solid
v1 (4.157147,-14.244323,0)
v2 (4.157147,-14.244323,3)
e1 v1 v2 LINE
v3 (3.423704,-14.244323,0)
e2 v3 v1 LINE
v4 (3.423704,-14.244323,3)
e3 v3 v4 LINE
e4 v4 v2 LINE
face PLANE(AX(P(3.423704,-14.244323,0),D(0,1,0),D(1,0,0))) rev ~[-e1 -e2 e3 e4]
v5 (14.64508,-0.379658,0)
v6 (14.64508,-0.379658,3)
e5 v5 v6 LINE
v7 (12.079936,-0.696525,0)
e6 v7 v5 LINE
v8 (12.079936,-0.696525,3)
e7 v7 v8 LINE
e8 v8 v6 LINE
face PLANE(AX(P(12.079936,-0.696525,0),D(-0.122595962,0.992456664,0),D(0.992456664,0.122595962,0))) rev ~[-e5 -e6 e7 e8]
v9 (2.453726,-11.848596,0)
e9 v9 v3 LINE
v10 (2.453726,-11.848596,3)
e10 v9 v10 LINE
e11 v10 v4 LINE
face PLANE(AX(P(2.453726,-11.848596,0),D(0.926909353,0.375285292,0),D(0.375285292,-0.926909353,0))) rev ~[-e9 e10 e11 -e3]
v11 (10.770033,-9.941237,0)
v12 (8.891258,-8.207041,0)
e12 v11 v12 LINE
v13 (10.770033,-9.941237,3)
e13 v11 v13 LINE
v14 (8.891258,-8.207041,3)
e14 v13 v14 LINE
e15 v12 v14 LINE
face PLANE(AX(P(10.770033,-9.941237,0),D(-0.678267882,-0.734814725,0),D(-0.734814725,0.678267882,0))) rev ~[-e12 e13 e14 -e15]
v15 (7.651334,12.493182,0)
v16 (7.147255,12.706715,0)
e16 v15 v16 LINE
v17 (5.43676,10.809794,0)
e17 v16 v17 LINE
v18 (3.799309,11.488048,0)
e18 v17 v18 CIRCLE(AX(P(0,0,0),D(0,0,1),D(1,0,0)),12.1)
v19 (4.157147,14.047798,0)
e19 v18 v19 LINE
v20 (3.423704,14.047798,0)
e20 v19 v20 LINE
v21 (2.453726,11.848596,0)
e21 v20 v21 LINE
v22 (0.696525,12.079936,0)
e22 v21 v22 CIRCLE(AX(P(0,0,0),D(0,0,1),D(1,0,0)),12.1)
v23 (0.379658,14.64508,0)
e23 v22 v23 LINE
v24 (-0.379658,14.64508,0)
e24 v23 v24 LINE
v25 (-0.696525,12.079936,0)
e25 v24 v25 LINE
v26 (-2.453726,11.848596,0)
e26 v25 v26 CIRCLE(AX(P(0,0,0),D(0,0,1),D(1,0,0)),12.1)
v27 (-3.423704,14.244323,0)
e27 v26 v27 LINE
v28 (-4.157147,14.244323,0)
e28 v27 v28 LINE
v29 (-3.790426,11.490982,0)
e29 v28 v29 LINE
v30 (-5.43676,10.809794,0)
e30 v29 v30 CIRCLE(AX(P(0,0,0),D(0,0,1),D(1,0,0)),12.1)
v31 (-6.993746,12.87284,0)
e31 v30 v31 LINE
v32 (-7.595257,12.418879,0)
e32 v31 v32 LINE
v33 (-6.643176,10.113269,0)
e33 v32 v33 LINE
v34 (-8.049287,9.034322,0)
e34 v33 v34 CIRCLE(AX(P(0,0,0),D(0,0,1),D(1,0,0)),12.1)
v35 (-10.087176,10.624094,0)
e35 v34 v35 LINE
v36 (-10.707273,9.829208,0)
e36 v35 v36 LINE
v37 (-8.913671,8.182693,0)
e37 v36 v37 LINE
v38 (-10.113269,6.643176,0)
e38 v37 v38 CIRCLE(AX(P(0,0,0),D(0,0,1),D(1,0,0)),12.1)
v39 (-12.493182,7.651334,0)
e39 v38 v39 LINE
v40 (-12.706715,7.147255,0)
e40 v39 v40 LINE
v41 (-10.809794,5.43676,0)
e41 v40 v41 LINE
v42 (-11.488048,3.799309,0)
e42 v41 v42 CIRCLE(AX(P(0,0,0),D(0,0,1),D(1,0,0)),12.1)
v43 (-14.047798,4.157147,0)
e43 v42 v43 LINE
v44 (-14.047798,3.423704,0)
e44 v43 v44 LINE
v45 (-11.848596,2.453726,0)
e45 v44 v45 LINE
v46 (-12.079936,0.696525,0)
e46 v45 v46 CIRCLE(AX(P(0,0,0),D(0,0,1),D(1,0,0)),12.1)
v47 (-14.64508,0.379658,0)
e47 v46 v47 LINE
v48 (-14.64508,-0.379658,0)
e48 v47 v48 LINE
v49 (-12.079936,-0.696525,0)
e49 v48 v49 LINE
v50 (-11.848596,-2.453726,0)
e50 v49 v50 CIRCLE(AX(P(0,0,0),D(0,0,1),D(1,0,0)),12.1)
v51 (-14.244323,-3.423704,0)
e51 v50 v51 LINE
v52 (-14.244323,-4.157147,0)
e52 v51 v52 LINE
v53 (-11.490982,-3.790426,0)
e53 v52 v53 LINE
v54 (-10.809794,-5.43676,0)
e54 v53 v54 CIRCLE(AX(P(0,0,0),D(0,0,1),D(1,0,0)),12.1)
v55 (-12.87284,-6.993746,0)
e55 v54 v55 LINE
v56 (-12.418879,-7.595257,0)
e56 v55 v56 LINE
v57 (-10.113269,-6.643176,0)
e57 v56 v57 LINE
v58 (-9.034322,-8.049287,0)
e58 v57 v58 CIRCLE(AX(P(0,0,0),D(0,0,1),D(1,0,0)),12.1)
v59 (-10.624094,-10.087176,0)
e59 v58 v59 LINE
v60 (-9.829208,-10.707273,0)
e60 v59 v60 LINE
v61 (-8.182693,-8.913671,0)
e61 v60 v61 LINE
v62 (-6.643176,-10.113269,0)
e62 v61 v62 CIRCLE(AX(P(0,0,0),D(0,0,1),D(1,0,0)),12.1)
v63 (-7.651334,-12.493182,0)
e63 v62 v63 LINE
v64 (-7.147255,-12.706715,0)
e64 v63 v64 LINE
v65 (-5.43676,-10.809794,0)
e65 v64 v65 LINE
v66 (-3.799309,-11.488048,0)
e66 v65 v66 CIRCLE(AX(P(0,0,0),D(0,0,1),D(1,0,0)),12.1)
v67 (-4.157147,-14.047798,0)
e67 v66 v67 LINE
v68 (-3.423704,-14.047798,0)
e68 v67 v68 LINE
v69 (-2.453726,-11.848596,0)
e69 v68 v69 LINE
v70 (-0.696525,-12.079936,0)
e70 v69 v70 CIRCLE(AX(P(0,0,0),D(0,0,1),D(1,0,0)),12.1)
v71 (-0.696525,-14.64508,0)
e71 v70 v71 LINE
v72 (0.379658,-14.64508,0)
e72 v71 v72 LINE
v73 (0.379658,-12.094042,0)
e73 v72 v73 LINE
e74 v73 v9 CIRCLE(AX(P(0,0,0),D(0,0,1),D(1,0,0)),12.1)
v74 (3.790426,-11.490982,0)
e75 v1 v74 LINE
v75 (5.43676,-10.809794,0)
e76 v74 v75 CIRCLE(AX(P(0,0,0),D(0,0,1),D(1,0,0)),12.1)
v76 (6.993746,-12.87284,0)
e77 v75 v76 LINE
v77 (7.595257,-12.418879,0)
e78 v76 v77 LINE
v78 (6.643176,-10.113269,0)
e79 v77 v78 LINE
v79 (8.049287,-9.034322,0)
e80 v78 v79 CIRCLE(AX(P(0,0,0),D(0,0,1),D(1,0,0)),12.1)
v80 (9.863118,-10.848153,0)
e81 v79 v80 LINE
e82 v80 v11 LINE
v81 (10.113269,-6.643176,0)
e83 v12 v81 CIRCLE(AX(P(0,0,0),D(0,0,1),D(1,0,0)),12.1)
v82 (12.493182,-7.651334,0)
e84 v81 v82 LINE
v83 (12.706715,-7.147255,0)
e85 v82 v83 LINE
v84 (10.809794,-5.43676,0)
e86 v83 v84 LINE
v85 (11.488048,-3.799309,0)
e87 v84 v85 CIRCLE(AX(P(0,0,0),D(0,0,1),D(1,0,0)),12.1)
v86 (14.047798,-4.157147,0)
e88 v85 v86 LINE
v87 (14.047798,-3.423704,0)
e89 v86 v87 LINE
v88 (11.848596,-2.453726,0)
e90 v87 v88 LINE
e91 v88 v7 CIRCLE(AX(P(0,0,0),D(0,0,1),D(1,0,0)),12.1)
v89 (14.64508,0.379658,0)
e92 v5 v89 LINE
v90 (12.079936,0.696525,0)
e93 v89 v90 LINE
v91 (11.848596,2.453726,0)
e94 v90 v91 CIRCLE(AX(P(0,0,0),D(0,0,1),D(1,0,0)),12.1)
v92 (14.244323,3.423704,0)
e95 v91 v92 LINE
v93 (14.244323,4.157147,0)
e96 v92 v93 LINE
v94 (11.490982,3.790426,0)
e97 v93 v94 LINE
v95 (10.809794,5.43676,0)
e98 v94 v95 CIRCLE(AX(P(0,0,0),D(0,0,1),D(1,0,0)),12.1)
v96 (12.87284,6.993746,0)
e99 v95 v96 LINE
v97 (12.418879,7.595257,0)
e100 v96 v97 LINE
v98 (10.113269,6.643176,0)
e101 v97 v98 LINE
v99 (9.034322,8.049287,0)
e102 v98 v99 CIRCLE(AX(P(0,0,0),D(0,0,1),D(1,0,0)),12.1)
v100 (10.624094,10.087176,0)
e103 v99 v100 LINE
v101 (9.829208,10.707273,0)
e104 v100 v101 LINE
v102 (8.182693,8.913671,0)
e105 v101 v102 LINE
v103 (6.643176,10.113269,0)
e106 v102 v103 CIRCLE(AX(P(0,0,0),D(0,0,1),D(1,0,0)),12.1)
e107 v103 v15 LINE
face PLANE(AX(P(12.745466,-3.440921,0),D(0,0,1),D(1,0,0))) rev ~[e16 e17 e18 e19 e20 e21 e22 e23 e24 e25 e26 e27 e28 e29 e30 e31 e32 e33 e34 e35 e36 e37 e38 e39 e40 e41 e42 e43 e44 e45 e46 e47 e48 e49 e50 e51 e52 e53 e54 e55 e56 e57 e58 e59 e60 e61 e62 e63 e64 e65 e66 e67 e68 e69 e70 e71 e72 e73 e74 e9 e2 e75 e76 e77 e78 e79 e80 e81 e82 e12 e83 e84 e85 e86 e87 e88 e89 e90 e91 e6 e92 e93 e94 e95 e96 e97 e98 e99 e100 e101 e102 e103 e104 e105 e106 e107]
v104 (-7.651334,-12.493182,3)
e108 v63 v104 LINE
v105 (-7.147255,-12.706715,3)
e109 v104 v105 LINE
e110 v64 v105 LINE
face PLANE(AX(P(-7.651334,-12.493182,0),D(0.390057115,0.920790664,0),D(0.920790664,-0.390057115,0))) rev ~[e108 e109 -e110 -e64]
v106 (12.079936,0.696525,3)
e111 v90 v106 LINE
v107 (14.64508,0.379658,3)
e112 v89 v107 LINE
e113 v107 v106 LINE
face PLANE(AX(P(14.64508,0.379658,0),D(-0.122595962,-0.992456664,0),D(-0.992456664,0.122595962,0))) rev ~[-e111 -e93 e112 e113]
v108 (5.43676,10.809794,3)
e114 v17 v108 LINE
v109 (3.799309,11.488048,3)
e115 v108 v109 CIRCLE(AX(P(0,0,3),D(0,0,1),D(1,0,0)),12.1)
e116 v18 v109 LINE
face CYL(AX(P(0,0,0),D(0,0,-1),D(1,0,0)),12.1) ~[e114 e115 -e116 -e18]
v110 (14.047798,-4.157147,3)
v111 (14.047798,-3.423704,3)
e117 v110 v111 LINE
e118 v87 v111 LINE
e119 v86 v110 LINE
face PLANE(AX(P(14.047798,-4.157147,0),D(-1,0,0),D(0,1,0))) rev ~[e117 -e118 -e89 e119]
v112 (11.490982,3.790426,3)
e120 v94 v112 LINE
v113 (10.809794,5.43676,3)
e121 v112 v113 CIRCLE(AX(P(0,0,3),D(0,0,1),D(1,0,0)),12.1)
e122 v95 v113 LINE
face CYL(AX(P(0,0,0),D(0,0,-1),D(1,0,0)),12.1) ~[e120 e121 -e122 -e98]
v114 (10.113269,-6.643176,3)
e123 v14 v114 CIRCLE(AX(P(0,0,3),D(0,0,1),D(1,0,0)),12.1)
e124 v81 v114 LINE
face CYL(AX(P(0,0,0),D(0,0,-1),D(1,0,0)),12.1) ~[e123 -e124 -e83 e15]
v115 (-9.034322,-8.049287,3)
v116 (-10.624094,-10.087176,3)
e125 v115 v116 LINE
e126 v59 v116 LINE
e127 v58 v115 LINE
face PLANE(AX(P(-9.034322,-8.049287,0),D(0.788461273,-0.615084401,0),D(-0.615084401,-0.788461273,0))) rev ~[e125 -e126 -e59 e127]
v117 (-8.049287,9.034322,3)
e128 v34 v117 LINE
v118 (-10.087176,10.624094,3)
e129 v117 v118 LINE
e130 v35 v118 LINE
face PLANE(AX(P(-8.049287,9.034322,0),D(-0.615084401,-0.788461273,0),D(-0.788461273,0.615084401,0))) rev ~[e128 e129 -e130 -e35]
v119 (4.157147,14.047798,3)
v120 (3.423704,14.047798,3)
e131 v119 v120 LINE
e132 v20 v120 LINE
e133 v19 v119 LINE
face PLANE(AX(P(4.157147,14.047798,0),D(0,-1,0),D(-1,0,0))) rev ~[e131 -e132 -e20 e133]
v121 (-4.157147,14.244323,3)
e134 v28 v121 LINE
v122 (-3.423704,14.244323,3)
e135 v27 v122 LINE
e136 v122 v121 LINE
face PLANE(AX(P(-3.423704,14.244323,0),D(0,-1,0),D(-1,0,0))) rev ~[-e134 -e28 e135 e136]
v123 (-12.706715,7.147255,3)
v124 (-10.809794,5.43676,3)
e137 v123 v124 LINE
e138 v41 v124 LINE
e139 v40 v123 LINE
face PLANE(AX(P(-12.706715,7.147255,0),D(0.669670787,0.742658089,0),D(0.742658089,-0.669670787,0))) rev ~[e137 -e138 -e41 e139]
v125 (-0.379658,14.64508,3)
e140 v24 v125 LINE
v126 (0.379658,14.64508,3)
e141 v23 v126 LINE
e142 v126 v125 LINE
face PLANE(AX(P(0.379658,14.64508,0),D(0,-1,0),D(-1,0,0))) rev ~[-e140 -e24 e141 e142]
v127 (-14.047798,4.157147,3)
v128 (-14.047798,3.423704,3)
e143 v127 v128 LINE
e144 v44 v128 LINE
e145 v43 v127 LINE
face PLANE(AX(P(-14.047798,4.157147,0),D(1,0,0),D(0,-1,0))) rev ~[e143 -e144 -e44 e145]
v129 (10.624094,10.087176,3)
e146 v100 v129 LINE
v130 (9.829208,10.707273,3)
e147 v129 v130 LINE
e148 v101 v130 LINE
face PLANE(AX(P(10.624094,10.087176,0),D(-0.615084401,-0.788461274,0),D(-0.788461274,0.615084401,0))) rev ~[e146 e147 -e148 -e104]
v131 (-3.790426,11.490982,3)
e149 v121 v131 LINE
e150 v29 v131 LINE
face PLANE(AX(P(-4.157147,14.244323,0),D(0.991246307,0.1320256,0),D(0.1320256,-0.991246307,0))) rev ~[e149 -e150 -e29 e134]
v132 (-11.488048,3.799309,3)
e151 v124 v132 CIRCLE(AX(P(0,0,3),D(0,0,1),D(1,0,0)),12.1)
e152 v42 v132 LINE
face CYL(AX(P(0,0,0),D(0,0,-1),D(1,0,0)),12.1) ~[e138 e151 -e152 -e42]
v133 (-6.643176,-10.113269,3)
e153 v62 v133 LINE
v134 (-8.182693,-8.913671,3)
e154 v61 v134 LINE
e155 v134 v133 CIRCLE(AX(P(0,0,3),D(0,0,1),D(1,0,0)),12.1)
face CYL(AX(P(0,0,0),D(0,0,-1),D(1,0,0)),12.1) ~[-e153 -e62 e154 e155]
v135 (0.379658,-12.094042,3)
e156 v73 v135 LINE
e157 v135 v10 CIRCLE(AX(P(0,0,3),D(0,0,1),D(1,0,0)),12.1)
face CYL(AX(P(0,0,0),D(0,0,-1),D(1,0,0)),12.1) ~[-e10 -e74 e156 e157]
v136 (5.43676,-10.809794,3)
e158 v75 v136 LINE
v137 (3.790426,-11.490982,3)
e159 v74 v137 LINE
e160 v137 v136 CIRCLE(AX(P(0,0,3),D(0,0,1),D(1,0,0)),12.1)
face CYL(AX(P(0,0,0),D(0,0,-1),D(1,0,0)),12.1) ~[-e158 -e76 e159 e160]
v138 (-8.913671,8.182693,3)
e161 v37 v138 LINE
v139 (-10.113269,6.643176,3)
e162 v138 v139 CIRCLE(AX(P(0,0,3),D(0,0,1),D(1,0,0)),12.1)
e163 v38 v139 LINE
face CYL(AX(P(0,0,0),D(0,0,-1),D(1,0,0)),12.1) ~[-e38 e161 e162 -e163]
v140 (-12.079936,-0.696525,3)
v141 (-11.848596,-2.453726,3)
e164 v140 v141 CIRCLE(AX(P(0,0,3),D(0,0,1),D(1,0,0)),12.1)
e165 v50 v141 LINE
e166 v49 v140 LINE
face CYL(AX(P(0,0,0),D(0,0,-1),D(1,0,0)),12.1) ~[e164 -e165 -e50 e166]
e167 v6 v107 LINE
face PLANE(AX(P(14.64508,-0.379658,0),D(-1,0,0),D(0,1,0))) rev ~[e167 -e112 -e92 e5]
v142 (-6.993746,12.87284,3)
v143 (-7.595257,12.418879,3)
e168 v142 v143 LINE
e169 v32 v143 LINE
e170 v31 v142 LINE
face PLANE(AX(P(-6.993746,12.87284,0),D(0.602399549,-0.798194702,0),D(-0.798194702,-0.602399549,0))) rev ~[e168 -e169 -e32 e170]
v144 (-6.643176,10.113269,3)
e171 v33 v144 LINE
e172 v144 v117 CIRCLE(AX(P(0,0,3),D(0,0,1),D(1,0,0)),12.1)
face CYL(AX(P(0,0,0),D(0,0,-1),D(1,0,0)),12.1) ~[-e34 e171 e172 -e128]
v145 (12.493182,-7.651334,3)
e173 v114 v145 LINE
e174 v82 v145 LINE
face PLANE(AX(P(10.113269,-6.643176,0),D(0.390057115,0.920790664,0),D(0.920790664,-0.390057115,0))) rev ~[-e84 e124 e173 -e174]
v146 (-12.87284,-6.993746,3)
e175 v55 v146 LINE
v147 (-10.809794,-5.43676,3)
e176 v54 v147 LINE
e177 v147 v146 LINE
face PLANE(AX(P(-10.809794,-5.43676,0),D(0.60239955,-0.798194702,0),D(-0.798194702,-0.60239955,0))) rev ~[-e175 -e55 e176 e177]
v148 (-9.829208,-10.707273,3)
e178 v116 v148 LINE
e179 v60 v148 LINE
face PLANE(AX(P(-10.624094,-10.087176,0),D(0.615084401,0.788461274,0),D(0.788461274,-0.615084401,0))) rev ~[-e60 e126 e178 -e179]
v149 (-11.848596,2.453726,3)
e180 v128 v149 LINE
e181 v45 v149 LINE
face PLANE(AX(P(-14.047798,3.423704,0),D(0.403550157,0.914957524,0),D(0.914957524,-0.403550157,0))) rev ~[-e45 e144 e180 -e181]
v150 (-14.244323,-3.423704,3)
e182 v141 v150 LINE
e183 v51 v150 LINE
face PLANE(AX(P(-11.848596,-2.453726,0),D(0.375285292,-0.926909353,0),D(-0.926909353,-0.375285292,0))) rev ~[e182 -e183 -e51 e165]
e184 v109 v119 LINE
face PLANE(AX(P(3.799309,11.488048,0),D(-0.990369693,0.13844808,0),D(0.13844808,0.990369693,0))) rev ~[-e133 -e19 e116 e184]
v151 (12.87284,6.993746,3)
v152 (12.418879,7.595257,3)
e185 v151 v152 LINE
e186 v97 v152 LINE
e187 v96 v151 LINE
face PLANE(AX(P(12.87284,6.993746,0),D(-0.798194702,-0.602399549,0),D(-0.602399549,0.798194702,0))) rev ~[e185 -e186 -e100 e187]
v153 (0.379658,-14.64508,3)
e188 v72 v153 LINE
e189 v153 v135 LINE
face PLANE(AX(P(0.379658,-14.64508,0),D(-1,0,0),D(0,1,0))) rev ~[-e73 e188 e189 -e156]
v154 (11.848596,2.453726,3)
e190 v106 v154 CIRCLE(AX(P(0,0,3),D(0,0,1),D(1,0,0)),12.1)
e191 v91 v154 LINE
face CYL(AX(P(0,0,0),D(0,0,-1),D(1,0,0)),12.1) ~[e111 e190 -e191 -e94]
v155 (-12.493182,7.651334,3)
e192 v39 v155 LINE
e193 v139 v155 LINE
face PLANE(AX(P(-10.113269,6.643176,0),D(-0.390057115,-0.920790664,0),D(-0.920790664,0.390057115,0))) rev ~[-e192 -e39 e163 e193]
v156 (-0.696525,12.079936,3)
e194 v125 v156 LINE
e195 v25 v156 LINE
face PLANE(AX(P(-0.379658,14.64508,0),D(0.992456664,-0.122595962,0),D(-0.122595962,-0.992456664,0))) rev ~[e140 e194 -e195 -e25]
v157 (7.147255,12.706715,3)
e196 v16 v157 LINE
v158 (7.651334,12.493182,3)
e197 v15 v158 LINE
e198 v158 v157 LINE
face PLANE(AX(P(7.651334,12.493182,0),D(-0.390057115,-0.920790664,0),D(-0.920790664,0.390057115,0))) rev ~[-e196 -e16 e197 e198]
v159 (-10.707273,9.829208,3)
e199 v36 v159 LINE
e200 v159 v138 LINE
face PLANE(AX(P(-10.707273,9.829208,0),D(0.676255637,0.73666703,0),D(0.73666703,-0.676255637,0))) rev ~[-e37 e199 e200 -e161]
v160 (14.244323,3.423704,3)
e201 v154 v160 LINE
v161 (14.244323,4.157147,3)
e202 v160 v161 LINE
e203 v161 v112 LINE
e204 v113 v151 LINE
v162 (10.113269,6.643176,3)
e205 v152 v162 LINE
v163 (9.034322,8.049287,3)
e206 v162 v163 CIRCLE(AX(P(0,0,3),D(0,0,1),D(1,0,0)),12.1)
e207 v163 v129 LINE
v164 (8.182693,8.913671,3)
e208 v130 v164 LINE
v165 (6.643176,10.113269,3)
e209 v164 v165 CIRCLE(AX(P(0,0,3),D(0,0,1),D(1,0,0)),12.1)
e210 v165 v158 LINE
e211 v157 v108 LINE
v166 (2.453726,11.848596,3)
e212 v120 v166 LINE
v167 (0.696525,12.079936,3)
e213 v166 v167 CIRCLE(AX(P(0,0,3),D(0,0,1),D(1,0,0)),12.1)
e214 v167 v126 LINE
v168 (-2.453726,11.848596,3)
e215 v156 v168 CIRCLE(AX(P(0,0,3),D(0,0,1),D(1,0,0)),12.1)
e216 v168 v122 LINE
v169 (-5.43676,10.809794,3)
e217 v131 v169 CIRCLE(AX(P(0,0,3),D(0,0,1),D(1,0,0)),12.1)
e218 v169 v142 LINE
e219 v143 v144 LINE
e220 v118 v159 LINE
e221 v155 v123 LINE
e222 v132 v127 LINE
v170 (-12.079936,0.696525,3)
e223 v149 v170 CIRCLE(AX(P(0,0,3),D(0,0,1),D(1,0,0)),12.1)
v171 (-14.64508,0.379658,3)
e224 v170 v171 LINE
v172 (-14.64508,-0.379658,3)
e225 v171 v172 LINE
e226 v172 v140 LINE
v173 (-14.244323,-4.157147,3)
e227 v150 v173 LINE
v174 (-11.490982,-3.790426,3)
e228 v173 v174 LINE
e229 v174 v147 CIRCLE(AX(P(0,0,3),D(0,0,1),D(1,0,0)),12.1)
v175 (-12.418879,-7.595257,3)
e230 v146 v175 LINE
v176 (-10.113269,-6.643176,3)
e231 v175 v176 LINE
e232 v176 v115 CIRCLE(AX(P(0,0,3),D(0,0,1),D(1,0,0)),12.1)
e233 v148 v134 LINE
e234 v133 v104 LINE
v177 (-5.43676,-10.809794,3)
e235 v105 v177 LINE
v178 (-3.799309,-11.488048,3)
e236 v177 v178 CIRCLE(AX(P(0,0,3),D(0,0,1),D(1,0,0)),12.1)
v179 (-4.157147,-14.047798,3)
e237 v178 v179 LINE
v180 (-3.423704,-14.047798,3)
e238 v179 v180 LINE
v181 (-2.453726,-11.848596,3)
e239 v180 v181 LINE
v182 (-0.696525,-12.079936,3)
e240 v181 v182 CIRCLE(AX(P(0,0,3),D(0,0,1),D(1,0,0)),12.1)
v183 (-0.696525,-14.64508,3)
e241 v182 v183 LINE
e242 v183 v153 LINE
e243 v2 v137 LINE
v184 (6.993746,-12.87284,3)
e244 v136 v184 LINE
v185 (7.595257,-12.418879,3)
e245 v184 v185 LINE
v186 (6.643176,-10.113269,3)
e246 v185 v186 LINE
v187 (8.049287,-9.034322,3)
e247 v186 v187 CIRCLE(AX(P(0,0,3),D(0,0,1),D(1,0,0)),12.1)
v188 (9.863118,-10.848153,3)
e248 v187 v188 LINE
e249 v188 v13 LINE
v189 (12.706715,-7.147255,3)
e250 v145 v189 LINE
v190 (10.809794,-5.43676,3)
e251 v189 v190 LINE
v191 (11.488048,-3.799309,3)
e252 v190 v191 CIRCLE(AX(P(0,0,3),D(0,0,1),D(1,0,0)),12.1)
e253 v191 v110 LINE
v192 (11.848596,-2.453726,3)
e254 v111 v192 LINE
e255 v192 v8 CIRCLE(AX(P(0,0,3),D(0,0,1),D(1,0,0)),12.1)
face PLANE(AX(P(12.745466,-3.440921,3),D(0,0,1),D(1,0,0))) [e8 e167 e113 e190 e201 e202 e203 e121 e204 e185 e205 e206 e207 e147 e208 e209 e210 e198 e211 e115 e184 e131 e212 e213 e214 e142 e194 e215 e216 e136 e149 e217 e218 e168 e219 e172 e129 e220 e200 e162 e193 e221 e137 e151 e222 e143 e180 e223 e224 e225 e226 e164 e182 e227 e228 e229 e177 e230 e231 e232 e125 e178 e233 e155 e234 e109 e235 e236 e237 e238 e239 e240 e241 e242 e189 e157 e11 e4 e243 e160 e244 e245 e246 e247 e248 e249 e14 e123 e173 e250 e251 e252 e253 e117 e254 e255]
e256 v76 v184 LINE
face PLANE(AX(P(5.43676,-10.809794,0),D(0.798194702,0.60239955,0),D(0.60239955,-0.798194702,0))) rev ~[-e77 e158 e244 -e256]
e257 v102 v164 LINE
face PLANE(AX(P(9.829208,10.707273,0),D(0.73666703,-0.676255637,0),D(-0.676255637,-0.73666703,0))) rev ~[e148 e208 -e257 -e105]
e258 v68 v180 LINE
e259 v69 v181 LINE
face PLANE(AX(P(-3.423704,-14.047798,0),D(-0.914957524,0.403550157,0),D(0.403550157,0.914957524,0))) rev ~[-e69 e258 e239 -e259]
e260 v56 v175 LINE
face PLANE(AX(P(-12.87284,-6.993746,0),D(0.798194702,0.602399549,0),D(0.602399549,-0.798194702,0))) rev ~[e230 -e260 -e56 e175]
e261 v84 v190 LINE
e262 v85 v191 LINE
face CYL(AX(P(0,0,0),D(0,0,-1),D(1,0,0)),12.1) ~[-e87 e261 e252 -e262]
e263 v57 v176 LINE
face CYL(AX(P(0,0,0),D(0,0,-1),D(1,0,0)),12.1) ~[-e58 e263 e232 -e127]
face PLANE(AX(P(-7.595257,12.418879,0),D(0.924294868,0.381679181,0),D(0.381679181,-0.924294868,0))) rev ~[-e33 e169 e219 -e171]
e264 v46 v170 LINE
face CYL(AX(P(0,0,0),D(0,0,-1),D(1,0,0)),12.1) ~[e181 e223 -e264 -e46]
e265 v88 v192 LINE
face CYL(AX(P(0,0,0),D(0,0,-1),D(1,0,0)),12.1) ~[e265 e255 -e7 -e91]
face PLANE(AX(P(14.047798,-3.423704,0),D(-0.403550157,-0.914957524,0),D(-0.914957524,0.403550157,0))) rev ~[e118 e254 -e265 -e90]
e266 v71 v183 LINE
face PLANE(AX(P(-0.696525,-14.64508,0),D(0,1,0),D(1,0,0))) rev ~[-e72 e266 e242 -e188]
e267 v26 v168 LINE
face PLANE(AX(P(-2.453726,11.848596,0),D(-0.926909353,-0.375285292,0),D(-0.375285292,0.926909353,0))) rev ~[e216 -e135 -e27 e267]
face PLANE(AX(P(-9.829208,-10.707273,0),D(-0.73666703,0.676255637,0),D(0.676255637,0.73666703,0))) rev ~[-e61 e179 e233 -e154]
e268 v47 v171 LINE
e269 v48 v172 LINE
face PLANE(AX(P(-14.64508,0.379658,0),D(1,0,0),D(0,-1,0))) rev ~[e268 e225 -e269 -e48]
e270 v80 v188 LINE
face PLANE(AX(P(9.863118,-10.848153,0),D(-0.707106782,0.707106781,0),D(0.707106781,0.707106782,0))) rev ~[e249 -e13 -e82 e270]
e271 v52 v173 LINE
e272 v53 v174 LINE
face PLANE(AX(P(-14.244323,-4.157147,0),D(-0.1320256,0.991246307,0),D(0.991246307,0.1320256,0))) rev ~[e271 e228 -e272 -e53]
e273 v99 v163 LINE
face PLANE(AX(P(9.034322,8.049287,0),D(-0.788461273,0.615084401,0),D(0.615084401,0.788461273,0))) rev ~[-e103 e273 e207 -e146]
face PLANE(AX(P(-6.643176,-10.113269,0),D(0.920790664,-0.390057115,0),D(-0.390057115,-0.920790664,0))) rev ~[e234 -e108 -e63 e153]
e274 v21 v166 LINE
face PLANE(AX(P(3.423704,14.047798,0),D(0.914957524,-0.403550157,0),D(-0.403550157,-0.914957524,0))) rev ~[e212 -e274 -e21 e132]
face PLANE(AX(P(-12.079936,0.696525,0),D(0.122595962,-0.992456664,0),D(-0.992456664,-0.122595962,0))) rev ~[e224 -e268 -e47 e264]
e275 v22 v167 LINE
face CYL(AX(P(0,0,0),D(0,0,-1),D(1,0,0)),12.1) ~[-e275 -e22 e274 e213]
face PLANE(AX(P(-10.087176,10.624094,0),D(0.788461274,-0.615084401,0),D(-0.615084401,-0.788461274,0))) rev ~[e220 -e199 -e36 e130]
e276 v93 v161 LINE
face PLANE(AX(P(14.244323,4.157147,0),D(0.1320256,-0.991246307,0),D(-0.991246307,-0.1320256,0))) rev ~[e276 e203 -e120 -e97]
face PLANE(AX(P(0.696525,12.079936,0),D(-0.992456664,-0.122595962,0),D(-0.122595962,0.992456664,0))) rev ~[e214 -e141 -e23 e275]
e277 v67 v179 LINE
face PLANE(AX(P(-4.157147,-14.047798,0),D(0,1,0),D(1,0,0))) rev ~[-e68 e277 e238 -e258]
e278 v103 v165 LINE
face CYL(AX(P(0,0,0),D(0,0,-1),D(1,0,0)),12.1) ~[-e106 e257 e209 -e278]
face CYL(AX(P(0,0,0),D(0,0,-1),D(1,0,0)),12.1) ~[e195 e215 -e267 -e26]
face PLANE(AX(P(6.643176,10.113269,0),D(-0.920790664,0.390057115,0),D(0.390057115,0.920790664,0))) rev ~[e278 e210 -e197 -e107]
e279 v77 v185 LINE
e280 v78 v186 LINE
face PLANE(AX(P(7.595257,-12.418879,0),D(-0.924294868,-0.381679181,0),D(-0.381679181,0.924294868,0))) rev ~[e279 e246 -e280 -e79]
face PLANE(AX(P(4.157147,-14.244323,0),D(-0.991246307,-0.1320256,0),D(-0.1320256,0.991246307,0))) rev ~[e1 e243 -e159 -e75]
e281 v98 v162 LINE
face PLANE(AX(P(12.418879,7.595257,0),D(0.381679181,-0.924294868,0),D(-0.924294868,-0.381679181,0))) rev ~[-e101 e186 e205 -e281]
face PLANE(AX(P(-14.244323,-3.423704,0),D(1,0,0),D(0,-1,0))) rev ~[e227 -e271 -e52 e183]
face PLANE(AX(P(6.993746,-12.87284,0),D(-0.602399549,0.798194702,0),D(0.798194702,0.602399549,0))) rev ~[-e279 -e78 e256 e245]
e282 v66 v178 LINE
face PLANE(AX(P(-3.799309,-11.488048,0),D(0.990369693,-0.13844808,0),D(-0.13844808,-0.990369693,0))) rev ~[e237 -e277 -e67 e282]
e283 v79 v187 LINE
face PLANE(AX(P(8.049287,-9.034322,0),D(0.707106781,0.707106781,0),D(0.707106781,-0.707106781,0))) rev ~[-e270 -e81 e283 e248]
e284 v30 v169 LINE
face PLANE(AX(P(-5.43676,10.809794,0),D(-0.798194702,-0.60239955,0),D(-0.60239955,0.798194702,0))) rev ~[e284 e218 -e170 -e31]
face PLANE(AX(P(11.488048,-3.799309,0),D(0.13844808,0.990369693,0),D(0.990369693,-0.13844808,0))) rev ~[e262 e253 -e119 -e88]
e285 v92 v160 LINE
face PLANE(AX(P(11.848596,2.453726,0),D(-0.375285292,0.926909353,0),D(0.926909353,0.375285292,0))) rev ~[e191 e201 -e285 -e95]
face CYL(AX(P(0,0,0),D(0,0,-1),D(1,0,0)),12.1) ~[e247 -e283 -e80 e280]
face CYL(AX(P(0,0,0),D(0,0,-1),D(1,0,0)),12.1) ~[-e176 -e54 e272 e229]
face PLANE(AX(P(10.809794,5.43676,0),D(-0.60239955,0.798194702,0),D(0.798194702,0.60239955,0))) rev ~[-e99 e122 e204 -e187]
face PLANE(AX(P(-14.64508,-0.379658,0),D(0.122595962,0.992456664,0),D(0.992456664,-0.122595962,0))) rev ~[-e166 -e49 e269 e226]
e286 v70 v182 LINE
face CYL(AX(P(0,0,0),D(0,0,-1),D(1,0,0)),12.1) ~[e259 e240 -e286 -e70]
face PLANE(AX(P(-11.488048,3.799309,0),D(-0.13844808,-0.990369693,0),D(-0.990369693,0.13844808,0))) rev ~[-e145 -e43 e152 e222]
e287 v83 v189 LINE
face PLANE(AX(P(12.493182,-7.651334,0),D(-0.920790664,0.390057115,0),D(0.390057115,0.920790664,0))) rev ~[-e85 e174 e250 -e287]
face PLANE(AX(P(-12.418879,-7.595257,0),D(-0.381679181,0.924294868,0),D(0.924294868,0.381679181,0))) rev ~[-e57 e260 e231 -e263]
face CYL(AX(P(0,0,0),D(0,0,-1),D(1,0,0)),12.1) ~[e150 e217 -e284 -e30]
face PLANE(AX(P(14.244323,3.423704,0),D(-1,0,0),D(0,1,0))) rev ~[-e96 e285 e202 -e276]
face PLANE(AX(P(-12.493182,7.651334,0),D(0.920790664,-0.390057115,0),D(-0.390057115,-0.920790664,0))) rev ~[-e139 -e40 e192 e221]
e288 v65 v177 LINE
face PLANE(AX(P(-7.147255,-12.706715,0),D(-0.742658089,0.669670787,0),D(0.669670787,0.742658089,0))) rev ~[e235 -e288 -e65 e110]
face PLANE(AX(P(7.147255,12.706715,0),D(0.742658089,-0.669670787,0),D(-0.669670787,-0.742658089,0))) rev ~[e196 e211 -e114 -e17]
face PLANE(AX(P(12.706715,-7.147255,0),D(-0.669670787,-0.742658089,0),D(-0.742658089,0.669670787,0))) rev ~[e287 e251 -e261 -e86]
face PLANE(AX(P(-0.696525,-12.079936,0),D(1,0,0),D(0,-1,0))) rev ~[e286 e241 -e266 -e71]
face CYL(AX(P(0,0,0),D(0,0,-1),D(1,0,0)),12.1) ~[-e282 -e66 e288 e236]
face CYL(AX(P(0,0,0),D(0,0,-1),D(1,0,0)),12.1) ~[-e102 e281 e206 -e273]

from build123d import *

# Parameters (mm, degrees)
SKETCH1_R            = 12.1
BOSS_EXTRUDE1_DEPTH  = 3
BOSS_EXTRUDE2_DEPTH  = 3
BOSS_EXTRUDE3_DEPTH  = 3
BOSS_EXTRUDE4_DEPTH  = 3
BOSS_EXTRUDE5_DEPTH  = 3
BOSS_EXTRUDE6_DEPTH  = 3
BOSS_EXTRUDE7_DEPTH  = 3
BOSS_EXTRUDE8_DEPTH  = 3
BOSS_EXTRUDE9_DEPTH  = 3
BOSS_EXTRUDE10_DEPTH = 3
BOSS_EXTRUDE11_DEPTH = 3
BOSS_EXTRUDE12_DEPTH = 3
BOSS_EXTRUDE13_DEPTH = 3
BOSS_EXTRUDE14_DEPTH = 3
BOSS_EXTRUDE15_DEPTH = 3
BOSS_EXTRUDE16_DEPTH = 3
BOSS_EXTRUDE17_DEPTH = 3
BOSS_EXTRUDE18_DEPTH = 3
BOSS_EXTRUDE19_DEPTH = 3
BOSS_EXTRUDE20_DEPTH = 3
BOSS_EXTRUDE21_DEPTH = 3
BOSS_EXTRUDE22_DEPTH = 3
BOSS_EXTRUDE23_DEPTH = 3
BOSS_EXTRUDE24_DEPTH = 3
BOSS_EXTRUDE25_DEPTH = 3


with BuildPart() as part:
    # Sketch1 → Boss-Extrude1 (new body)
    with BuildSketch(Plane.XY):
        Circle(SKETCH1_R)
    extrude(amount=BOSS_EXTRUDE1_DEPTH)

    # Sketch2 → Boss-Extrude2 (add)
    with BuildSketch(Plane.XY):
        Polygon((12.079935981, -0.696524726), (14.645079707, -0.379658233), (14.645079707, 0.379658233), (12.079935981, 0.696524726), align=None)
    extrude(amount=BOSS_EXTRUDE2_DEPTH)

    # Sketch3 → Boss-Extrude3 (add)
    with BuildSketch(Plane.XY):
        Polygon((11.848596009, 2.453726274), (14.244323498, 3.423703853), (14.244323498, 4.157147238), (11.490982299, 3.790425545), align=None)
    extrude(amount=BOSS_EXTRUDE3_DEPTH)

    # Sketch4 → Boss-Extrude4 (add)
    with BuildSketch(Plane.XY):
        Polygon((10.809793799, 5.436759883), (12.872840183, 6.993746179), (12.418878698, 7.595256676), (10.113269073, 6.643176098), align=None)
    extrude(amount=BOSS_EXTRUDE4_DEPTH)

    # Sketch5 → Boss-Extrude5 (add)
    with BuildSketch(Plane.XY):
        Polygon((9.034322006, 8.049287291), (10.624094083, 10.087176261), (9.829208044, 10.707272668), (8.182693208, 8.913671065), align=None)
    extrude(amount=BOSS_EXTRUDE5_DEPTH)

    # Sketch6 → Boss-Extrude6 (add)
    with BuildSketch(Plane.XY):
        Polygon((6.643176098, 10.113269073), (7.651333528, 12.49318195), (7.147254813, 12.706715272), (5.436759883, 10.809793799), align=None)
    extrude(amount=BOSS_EXTRUDE6_DEPTH)

    # Sketch7 → Boss-Extrude7 (add)
    with BuildSketch(Plane.XY):
        Polygon((3.799308717, 11.488048279), (4.157147238, 14.047797936), (3.423703853, 14.047797936), (2.453726274, 11.848596009), align=None)
    extrude(amount=BOSS_EXTRUDE7_DEPTH)

    # Sketch8 → Boss-Extrude8 (add)
    with BuildSketch(Plane.XY):
        Polygon((0.696524726, 12.079935981), (0.379658233, 14.645079707), (-0.379658233, 14.645079707), (-0.696524726, 12.079935981), align=None)
    extrude(amount=BOSS_EXTRUDE8_DEPTH)

    # Sketch9 → Boss-Extrude9 (add)
    with BuildSketch(Plane.XY):
        Polygon((-2.453726274, 11.848596009), (-3.423703853, 14.244323498), (-4.157147238, 14.244323498), (-3.790425545, 11.490982299), align=None)
    extrude(amount=BOSS_EXTRUDE9_DEPTH)

    # Sketch10 → Boss-Extrude10 (add)
    with BuildSketch(Plane.XY):
        Polygon((-5.436759883, 10.809793799), (-6.993746179, 12.872840183), (-7.595256676, 12.418878698), (-6.643176098, 10.113269073), align=None)
    extrude(amount=BOSS_EXTRUDE10_DEPTH)

    # Sketch11 → Boss-Extrude11 (add)
    with BuildSketch(Plane.XY):
        Polygon((-8.049287291, 9.034322006), (-10.087176261, 10.624094083), (-10.707272668, 9.829208044), (-8.913671065, 8.182693208), align=None)
    extrude(amount=BOSS_EXTRUDE11_DEPTH)

    # Sketch12 → Boss-Extrude12 (add)
    with BuildSketch(Plane.XY):
        Polygon((-10.113269073, 6.643176098), (-12.49318195, 7.651333528), (-12.706715272, 7.147254813), (-10.809793799, 5.436759883), align=None)
    extrude(amount=BOSS_EXTRUDE12_DEPTH)

    # Sketch13 → Boss-Extrude13 (add)
    with BuildSketch(Plane.XY):
        Polygon((-11.488048279, 3.799308717), (-14.047797936, 4.157147238), (-14.047797936, 3.423703853), (-11.848596009, 2.453726274), align=None)
    extrude(amount=BOSS_EXTRUDE13_DEPTH)

    # Sketch14 → Boss-Extrude14 (add)
    with BuildSketch(Plane.XY):
        Polygon((-12.079935981, 0.696524726), (-14.645079707, 0.379658233), (-14.645079707, -0.379658233), (-12.079935981, -0.696524726), align=None)
    extrude(amount=BOSS_EXTRUDE14_DEPTH)

    # Sketch15 → Boss-Extrude15 (add)
    with BuildSketch(Plane.XY):
        Polygon((-11.848596009, -2.453726274), (-14.244323498, -3.423703853), (-14.244323498, -4.157147238), (-11.490982299, -3.790425545), align=None)
    extrude(amount=BOSS_EXTRUDE15_DEPTH)

    # Sketch16 → Boss-Extrude16 (add)
    with BuildSketch(Plane.XY):
        Polygon((-10.809793799, -5.436759883), (-12.872840183, -6.993746179), (-12.418878698, -7.595256676), (-10.113269073, -6.643176098), align=None)
    extrude(amount=BOSS_EXTRUDE16_DEPTH)

    # Sketch17 → Boss-Extrude17 (add)
    with BuildSketch(Plane.XY):
        Polygon((-9.034322006, -8.049287291), (-10.624094083, -10.087176261), (-9.829208044, -10.707272668), (-8.182693208, -8.913671065), align=None)
    extrude(amount=BOSS_EXTRUDE17_DEPTH)

    # Sketch18 → Boss-Extrude18 (add)
    with BuildSketch(Plane.XY):
        Polygon((-6.643176098, -10.113269073), (-7.651333528, -12.49318195), (-7.147254813, -12.706715272), (-5.436759883, -10.809793799), align=None)
    extrude(amount=BOSS_EXTRUDE18_DEPTH)

    # Sketch19 → Boss-Extrude19 (add)
    with BuildSketch(Plane.XY):
        Polygon((-3.799308717, -11.488048279), (-4.157147238, -14.047797936), (-3.423703853, -14.047797936), (-2.453726274, -11.848596009), align=None)
    extrude(amount=BOSS_EXTRUDE19_DEPTH)

    # Sketch20 → Boss-Extrude20 (add)
    with BuildSketch(Plane.XY):
        Polygon((-0.696524726, -12.079935981), (-0.696524726, -14.645079707), (0.379658233, -14.645079707), (0.379658233, -12.09404232), align=None)
    extrude(amount=BOSS_EXTRUDE20_DEPTH)

    # Sketch21 → Boss-Extrude21 (add)
    with BuildSketch(Plane.XY):
        Polygon((2.453726274, -11.848596009), (3.423703853, -14.244323498), (4.157147238, -14.244323498), (3.790425545, -11.490982299), align=None)
    extrude(amount=BOSS_EXTRUDE21_DEPTH)

    # Sketch22 → Boss-Extrude22 (add)
    with BuildSketch(Plane.XY):
        Polygon((5.436759883, -10.809793799), (6.993746179, -12.872840183), (7.595256676, -12.418878698), (6.643176098, -10.113269073), align=None)
    extrude(amount=BOSS_EXTRUDE22_DEPTH)

    # Sketch23 → Boss-Extrude23 (add)
    with BuildSketch(Plane.XY):
        Polygon((8.049287291, -9.034322006), (9.863117815, -10.848152529), (10.770033076, -9.941237267), (8.89125817, -8.207041376), align=None)
    extrude(amount=BOSS_EXTRUDE23_DEPTH)

    # Sketch24 → Boss-Extrude24 (add)
    with BuildSketch(Plane.XY):
        Polygon((10.113269073, -6.643176098), (12.49318195, -7.651333528), (12.706715272, -7.147254813), (10.809793799, -5.436759883), align=None)
    extrude(amount=BOSS_EXTRUDE24_DEPTH)

    # Sketch25 → Boss-Extrude25 (add)
    with BuildSketch(Plane.XY):
        Polygon((11.488048279, -3.799308717), (14.047797936, -4.157147238), (14.047797936, -3.423703853), (11.848596009, -2.453726274), align=None)
    extrude(amount=BOSS_EXTRUDE25_DEPTH)


solid = part.part
